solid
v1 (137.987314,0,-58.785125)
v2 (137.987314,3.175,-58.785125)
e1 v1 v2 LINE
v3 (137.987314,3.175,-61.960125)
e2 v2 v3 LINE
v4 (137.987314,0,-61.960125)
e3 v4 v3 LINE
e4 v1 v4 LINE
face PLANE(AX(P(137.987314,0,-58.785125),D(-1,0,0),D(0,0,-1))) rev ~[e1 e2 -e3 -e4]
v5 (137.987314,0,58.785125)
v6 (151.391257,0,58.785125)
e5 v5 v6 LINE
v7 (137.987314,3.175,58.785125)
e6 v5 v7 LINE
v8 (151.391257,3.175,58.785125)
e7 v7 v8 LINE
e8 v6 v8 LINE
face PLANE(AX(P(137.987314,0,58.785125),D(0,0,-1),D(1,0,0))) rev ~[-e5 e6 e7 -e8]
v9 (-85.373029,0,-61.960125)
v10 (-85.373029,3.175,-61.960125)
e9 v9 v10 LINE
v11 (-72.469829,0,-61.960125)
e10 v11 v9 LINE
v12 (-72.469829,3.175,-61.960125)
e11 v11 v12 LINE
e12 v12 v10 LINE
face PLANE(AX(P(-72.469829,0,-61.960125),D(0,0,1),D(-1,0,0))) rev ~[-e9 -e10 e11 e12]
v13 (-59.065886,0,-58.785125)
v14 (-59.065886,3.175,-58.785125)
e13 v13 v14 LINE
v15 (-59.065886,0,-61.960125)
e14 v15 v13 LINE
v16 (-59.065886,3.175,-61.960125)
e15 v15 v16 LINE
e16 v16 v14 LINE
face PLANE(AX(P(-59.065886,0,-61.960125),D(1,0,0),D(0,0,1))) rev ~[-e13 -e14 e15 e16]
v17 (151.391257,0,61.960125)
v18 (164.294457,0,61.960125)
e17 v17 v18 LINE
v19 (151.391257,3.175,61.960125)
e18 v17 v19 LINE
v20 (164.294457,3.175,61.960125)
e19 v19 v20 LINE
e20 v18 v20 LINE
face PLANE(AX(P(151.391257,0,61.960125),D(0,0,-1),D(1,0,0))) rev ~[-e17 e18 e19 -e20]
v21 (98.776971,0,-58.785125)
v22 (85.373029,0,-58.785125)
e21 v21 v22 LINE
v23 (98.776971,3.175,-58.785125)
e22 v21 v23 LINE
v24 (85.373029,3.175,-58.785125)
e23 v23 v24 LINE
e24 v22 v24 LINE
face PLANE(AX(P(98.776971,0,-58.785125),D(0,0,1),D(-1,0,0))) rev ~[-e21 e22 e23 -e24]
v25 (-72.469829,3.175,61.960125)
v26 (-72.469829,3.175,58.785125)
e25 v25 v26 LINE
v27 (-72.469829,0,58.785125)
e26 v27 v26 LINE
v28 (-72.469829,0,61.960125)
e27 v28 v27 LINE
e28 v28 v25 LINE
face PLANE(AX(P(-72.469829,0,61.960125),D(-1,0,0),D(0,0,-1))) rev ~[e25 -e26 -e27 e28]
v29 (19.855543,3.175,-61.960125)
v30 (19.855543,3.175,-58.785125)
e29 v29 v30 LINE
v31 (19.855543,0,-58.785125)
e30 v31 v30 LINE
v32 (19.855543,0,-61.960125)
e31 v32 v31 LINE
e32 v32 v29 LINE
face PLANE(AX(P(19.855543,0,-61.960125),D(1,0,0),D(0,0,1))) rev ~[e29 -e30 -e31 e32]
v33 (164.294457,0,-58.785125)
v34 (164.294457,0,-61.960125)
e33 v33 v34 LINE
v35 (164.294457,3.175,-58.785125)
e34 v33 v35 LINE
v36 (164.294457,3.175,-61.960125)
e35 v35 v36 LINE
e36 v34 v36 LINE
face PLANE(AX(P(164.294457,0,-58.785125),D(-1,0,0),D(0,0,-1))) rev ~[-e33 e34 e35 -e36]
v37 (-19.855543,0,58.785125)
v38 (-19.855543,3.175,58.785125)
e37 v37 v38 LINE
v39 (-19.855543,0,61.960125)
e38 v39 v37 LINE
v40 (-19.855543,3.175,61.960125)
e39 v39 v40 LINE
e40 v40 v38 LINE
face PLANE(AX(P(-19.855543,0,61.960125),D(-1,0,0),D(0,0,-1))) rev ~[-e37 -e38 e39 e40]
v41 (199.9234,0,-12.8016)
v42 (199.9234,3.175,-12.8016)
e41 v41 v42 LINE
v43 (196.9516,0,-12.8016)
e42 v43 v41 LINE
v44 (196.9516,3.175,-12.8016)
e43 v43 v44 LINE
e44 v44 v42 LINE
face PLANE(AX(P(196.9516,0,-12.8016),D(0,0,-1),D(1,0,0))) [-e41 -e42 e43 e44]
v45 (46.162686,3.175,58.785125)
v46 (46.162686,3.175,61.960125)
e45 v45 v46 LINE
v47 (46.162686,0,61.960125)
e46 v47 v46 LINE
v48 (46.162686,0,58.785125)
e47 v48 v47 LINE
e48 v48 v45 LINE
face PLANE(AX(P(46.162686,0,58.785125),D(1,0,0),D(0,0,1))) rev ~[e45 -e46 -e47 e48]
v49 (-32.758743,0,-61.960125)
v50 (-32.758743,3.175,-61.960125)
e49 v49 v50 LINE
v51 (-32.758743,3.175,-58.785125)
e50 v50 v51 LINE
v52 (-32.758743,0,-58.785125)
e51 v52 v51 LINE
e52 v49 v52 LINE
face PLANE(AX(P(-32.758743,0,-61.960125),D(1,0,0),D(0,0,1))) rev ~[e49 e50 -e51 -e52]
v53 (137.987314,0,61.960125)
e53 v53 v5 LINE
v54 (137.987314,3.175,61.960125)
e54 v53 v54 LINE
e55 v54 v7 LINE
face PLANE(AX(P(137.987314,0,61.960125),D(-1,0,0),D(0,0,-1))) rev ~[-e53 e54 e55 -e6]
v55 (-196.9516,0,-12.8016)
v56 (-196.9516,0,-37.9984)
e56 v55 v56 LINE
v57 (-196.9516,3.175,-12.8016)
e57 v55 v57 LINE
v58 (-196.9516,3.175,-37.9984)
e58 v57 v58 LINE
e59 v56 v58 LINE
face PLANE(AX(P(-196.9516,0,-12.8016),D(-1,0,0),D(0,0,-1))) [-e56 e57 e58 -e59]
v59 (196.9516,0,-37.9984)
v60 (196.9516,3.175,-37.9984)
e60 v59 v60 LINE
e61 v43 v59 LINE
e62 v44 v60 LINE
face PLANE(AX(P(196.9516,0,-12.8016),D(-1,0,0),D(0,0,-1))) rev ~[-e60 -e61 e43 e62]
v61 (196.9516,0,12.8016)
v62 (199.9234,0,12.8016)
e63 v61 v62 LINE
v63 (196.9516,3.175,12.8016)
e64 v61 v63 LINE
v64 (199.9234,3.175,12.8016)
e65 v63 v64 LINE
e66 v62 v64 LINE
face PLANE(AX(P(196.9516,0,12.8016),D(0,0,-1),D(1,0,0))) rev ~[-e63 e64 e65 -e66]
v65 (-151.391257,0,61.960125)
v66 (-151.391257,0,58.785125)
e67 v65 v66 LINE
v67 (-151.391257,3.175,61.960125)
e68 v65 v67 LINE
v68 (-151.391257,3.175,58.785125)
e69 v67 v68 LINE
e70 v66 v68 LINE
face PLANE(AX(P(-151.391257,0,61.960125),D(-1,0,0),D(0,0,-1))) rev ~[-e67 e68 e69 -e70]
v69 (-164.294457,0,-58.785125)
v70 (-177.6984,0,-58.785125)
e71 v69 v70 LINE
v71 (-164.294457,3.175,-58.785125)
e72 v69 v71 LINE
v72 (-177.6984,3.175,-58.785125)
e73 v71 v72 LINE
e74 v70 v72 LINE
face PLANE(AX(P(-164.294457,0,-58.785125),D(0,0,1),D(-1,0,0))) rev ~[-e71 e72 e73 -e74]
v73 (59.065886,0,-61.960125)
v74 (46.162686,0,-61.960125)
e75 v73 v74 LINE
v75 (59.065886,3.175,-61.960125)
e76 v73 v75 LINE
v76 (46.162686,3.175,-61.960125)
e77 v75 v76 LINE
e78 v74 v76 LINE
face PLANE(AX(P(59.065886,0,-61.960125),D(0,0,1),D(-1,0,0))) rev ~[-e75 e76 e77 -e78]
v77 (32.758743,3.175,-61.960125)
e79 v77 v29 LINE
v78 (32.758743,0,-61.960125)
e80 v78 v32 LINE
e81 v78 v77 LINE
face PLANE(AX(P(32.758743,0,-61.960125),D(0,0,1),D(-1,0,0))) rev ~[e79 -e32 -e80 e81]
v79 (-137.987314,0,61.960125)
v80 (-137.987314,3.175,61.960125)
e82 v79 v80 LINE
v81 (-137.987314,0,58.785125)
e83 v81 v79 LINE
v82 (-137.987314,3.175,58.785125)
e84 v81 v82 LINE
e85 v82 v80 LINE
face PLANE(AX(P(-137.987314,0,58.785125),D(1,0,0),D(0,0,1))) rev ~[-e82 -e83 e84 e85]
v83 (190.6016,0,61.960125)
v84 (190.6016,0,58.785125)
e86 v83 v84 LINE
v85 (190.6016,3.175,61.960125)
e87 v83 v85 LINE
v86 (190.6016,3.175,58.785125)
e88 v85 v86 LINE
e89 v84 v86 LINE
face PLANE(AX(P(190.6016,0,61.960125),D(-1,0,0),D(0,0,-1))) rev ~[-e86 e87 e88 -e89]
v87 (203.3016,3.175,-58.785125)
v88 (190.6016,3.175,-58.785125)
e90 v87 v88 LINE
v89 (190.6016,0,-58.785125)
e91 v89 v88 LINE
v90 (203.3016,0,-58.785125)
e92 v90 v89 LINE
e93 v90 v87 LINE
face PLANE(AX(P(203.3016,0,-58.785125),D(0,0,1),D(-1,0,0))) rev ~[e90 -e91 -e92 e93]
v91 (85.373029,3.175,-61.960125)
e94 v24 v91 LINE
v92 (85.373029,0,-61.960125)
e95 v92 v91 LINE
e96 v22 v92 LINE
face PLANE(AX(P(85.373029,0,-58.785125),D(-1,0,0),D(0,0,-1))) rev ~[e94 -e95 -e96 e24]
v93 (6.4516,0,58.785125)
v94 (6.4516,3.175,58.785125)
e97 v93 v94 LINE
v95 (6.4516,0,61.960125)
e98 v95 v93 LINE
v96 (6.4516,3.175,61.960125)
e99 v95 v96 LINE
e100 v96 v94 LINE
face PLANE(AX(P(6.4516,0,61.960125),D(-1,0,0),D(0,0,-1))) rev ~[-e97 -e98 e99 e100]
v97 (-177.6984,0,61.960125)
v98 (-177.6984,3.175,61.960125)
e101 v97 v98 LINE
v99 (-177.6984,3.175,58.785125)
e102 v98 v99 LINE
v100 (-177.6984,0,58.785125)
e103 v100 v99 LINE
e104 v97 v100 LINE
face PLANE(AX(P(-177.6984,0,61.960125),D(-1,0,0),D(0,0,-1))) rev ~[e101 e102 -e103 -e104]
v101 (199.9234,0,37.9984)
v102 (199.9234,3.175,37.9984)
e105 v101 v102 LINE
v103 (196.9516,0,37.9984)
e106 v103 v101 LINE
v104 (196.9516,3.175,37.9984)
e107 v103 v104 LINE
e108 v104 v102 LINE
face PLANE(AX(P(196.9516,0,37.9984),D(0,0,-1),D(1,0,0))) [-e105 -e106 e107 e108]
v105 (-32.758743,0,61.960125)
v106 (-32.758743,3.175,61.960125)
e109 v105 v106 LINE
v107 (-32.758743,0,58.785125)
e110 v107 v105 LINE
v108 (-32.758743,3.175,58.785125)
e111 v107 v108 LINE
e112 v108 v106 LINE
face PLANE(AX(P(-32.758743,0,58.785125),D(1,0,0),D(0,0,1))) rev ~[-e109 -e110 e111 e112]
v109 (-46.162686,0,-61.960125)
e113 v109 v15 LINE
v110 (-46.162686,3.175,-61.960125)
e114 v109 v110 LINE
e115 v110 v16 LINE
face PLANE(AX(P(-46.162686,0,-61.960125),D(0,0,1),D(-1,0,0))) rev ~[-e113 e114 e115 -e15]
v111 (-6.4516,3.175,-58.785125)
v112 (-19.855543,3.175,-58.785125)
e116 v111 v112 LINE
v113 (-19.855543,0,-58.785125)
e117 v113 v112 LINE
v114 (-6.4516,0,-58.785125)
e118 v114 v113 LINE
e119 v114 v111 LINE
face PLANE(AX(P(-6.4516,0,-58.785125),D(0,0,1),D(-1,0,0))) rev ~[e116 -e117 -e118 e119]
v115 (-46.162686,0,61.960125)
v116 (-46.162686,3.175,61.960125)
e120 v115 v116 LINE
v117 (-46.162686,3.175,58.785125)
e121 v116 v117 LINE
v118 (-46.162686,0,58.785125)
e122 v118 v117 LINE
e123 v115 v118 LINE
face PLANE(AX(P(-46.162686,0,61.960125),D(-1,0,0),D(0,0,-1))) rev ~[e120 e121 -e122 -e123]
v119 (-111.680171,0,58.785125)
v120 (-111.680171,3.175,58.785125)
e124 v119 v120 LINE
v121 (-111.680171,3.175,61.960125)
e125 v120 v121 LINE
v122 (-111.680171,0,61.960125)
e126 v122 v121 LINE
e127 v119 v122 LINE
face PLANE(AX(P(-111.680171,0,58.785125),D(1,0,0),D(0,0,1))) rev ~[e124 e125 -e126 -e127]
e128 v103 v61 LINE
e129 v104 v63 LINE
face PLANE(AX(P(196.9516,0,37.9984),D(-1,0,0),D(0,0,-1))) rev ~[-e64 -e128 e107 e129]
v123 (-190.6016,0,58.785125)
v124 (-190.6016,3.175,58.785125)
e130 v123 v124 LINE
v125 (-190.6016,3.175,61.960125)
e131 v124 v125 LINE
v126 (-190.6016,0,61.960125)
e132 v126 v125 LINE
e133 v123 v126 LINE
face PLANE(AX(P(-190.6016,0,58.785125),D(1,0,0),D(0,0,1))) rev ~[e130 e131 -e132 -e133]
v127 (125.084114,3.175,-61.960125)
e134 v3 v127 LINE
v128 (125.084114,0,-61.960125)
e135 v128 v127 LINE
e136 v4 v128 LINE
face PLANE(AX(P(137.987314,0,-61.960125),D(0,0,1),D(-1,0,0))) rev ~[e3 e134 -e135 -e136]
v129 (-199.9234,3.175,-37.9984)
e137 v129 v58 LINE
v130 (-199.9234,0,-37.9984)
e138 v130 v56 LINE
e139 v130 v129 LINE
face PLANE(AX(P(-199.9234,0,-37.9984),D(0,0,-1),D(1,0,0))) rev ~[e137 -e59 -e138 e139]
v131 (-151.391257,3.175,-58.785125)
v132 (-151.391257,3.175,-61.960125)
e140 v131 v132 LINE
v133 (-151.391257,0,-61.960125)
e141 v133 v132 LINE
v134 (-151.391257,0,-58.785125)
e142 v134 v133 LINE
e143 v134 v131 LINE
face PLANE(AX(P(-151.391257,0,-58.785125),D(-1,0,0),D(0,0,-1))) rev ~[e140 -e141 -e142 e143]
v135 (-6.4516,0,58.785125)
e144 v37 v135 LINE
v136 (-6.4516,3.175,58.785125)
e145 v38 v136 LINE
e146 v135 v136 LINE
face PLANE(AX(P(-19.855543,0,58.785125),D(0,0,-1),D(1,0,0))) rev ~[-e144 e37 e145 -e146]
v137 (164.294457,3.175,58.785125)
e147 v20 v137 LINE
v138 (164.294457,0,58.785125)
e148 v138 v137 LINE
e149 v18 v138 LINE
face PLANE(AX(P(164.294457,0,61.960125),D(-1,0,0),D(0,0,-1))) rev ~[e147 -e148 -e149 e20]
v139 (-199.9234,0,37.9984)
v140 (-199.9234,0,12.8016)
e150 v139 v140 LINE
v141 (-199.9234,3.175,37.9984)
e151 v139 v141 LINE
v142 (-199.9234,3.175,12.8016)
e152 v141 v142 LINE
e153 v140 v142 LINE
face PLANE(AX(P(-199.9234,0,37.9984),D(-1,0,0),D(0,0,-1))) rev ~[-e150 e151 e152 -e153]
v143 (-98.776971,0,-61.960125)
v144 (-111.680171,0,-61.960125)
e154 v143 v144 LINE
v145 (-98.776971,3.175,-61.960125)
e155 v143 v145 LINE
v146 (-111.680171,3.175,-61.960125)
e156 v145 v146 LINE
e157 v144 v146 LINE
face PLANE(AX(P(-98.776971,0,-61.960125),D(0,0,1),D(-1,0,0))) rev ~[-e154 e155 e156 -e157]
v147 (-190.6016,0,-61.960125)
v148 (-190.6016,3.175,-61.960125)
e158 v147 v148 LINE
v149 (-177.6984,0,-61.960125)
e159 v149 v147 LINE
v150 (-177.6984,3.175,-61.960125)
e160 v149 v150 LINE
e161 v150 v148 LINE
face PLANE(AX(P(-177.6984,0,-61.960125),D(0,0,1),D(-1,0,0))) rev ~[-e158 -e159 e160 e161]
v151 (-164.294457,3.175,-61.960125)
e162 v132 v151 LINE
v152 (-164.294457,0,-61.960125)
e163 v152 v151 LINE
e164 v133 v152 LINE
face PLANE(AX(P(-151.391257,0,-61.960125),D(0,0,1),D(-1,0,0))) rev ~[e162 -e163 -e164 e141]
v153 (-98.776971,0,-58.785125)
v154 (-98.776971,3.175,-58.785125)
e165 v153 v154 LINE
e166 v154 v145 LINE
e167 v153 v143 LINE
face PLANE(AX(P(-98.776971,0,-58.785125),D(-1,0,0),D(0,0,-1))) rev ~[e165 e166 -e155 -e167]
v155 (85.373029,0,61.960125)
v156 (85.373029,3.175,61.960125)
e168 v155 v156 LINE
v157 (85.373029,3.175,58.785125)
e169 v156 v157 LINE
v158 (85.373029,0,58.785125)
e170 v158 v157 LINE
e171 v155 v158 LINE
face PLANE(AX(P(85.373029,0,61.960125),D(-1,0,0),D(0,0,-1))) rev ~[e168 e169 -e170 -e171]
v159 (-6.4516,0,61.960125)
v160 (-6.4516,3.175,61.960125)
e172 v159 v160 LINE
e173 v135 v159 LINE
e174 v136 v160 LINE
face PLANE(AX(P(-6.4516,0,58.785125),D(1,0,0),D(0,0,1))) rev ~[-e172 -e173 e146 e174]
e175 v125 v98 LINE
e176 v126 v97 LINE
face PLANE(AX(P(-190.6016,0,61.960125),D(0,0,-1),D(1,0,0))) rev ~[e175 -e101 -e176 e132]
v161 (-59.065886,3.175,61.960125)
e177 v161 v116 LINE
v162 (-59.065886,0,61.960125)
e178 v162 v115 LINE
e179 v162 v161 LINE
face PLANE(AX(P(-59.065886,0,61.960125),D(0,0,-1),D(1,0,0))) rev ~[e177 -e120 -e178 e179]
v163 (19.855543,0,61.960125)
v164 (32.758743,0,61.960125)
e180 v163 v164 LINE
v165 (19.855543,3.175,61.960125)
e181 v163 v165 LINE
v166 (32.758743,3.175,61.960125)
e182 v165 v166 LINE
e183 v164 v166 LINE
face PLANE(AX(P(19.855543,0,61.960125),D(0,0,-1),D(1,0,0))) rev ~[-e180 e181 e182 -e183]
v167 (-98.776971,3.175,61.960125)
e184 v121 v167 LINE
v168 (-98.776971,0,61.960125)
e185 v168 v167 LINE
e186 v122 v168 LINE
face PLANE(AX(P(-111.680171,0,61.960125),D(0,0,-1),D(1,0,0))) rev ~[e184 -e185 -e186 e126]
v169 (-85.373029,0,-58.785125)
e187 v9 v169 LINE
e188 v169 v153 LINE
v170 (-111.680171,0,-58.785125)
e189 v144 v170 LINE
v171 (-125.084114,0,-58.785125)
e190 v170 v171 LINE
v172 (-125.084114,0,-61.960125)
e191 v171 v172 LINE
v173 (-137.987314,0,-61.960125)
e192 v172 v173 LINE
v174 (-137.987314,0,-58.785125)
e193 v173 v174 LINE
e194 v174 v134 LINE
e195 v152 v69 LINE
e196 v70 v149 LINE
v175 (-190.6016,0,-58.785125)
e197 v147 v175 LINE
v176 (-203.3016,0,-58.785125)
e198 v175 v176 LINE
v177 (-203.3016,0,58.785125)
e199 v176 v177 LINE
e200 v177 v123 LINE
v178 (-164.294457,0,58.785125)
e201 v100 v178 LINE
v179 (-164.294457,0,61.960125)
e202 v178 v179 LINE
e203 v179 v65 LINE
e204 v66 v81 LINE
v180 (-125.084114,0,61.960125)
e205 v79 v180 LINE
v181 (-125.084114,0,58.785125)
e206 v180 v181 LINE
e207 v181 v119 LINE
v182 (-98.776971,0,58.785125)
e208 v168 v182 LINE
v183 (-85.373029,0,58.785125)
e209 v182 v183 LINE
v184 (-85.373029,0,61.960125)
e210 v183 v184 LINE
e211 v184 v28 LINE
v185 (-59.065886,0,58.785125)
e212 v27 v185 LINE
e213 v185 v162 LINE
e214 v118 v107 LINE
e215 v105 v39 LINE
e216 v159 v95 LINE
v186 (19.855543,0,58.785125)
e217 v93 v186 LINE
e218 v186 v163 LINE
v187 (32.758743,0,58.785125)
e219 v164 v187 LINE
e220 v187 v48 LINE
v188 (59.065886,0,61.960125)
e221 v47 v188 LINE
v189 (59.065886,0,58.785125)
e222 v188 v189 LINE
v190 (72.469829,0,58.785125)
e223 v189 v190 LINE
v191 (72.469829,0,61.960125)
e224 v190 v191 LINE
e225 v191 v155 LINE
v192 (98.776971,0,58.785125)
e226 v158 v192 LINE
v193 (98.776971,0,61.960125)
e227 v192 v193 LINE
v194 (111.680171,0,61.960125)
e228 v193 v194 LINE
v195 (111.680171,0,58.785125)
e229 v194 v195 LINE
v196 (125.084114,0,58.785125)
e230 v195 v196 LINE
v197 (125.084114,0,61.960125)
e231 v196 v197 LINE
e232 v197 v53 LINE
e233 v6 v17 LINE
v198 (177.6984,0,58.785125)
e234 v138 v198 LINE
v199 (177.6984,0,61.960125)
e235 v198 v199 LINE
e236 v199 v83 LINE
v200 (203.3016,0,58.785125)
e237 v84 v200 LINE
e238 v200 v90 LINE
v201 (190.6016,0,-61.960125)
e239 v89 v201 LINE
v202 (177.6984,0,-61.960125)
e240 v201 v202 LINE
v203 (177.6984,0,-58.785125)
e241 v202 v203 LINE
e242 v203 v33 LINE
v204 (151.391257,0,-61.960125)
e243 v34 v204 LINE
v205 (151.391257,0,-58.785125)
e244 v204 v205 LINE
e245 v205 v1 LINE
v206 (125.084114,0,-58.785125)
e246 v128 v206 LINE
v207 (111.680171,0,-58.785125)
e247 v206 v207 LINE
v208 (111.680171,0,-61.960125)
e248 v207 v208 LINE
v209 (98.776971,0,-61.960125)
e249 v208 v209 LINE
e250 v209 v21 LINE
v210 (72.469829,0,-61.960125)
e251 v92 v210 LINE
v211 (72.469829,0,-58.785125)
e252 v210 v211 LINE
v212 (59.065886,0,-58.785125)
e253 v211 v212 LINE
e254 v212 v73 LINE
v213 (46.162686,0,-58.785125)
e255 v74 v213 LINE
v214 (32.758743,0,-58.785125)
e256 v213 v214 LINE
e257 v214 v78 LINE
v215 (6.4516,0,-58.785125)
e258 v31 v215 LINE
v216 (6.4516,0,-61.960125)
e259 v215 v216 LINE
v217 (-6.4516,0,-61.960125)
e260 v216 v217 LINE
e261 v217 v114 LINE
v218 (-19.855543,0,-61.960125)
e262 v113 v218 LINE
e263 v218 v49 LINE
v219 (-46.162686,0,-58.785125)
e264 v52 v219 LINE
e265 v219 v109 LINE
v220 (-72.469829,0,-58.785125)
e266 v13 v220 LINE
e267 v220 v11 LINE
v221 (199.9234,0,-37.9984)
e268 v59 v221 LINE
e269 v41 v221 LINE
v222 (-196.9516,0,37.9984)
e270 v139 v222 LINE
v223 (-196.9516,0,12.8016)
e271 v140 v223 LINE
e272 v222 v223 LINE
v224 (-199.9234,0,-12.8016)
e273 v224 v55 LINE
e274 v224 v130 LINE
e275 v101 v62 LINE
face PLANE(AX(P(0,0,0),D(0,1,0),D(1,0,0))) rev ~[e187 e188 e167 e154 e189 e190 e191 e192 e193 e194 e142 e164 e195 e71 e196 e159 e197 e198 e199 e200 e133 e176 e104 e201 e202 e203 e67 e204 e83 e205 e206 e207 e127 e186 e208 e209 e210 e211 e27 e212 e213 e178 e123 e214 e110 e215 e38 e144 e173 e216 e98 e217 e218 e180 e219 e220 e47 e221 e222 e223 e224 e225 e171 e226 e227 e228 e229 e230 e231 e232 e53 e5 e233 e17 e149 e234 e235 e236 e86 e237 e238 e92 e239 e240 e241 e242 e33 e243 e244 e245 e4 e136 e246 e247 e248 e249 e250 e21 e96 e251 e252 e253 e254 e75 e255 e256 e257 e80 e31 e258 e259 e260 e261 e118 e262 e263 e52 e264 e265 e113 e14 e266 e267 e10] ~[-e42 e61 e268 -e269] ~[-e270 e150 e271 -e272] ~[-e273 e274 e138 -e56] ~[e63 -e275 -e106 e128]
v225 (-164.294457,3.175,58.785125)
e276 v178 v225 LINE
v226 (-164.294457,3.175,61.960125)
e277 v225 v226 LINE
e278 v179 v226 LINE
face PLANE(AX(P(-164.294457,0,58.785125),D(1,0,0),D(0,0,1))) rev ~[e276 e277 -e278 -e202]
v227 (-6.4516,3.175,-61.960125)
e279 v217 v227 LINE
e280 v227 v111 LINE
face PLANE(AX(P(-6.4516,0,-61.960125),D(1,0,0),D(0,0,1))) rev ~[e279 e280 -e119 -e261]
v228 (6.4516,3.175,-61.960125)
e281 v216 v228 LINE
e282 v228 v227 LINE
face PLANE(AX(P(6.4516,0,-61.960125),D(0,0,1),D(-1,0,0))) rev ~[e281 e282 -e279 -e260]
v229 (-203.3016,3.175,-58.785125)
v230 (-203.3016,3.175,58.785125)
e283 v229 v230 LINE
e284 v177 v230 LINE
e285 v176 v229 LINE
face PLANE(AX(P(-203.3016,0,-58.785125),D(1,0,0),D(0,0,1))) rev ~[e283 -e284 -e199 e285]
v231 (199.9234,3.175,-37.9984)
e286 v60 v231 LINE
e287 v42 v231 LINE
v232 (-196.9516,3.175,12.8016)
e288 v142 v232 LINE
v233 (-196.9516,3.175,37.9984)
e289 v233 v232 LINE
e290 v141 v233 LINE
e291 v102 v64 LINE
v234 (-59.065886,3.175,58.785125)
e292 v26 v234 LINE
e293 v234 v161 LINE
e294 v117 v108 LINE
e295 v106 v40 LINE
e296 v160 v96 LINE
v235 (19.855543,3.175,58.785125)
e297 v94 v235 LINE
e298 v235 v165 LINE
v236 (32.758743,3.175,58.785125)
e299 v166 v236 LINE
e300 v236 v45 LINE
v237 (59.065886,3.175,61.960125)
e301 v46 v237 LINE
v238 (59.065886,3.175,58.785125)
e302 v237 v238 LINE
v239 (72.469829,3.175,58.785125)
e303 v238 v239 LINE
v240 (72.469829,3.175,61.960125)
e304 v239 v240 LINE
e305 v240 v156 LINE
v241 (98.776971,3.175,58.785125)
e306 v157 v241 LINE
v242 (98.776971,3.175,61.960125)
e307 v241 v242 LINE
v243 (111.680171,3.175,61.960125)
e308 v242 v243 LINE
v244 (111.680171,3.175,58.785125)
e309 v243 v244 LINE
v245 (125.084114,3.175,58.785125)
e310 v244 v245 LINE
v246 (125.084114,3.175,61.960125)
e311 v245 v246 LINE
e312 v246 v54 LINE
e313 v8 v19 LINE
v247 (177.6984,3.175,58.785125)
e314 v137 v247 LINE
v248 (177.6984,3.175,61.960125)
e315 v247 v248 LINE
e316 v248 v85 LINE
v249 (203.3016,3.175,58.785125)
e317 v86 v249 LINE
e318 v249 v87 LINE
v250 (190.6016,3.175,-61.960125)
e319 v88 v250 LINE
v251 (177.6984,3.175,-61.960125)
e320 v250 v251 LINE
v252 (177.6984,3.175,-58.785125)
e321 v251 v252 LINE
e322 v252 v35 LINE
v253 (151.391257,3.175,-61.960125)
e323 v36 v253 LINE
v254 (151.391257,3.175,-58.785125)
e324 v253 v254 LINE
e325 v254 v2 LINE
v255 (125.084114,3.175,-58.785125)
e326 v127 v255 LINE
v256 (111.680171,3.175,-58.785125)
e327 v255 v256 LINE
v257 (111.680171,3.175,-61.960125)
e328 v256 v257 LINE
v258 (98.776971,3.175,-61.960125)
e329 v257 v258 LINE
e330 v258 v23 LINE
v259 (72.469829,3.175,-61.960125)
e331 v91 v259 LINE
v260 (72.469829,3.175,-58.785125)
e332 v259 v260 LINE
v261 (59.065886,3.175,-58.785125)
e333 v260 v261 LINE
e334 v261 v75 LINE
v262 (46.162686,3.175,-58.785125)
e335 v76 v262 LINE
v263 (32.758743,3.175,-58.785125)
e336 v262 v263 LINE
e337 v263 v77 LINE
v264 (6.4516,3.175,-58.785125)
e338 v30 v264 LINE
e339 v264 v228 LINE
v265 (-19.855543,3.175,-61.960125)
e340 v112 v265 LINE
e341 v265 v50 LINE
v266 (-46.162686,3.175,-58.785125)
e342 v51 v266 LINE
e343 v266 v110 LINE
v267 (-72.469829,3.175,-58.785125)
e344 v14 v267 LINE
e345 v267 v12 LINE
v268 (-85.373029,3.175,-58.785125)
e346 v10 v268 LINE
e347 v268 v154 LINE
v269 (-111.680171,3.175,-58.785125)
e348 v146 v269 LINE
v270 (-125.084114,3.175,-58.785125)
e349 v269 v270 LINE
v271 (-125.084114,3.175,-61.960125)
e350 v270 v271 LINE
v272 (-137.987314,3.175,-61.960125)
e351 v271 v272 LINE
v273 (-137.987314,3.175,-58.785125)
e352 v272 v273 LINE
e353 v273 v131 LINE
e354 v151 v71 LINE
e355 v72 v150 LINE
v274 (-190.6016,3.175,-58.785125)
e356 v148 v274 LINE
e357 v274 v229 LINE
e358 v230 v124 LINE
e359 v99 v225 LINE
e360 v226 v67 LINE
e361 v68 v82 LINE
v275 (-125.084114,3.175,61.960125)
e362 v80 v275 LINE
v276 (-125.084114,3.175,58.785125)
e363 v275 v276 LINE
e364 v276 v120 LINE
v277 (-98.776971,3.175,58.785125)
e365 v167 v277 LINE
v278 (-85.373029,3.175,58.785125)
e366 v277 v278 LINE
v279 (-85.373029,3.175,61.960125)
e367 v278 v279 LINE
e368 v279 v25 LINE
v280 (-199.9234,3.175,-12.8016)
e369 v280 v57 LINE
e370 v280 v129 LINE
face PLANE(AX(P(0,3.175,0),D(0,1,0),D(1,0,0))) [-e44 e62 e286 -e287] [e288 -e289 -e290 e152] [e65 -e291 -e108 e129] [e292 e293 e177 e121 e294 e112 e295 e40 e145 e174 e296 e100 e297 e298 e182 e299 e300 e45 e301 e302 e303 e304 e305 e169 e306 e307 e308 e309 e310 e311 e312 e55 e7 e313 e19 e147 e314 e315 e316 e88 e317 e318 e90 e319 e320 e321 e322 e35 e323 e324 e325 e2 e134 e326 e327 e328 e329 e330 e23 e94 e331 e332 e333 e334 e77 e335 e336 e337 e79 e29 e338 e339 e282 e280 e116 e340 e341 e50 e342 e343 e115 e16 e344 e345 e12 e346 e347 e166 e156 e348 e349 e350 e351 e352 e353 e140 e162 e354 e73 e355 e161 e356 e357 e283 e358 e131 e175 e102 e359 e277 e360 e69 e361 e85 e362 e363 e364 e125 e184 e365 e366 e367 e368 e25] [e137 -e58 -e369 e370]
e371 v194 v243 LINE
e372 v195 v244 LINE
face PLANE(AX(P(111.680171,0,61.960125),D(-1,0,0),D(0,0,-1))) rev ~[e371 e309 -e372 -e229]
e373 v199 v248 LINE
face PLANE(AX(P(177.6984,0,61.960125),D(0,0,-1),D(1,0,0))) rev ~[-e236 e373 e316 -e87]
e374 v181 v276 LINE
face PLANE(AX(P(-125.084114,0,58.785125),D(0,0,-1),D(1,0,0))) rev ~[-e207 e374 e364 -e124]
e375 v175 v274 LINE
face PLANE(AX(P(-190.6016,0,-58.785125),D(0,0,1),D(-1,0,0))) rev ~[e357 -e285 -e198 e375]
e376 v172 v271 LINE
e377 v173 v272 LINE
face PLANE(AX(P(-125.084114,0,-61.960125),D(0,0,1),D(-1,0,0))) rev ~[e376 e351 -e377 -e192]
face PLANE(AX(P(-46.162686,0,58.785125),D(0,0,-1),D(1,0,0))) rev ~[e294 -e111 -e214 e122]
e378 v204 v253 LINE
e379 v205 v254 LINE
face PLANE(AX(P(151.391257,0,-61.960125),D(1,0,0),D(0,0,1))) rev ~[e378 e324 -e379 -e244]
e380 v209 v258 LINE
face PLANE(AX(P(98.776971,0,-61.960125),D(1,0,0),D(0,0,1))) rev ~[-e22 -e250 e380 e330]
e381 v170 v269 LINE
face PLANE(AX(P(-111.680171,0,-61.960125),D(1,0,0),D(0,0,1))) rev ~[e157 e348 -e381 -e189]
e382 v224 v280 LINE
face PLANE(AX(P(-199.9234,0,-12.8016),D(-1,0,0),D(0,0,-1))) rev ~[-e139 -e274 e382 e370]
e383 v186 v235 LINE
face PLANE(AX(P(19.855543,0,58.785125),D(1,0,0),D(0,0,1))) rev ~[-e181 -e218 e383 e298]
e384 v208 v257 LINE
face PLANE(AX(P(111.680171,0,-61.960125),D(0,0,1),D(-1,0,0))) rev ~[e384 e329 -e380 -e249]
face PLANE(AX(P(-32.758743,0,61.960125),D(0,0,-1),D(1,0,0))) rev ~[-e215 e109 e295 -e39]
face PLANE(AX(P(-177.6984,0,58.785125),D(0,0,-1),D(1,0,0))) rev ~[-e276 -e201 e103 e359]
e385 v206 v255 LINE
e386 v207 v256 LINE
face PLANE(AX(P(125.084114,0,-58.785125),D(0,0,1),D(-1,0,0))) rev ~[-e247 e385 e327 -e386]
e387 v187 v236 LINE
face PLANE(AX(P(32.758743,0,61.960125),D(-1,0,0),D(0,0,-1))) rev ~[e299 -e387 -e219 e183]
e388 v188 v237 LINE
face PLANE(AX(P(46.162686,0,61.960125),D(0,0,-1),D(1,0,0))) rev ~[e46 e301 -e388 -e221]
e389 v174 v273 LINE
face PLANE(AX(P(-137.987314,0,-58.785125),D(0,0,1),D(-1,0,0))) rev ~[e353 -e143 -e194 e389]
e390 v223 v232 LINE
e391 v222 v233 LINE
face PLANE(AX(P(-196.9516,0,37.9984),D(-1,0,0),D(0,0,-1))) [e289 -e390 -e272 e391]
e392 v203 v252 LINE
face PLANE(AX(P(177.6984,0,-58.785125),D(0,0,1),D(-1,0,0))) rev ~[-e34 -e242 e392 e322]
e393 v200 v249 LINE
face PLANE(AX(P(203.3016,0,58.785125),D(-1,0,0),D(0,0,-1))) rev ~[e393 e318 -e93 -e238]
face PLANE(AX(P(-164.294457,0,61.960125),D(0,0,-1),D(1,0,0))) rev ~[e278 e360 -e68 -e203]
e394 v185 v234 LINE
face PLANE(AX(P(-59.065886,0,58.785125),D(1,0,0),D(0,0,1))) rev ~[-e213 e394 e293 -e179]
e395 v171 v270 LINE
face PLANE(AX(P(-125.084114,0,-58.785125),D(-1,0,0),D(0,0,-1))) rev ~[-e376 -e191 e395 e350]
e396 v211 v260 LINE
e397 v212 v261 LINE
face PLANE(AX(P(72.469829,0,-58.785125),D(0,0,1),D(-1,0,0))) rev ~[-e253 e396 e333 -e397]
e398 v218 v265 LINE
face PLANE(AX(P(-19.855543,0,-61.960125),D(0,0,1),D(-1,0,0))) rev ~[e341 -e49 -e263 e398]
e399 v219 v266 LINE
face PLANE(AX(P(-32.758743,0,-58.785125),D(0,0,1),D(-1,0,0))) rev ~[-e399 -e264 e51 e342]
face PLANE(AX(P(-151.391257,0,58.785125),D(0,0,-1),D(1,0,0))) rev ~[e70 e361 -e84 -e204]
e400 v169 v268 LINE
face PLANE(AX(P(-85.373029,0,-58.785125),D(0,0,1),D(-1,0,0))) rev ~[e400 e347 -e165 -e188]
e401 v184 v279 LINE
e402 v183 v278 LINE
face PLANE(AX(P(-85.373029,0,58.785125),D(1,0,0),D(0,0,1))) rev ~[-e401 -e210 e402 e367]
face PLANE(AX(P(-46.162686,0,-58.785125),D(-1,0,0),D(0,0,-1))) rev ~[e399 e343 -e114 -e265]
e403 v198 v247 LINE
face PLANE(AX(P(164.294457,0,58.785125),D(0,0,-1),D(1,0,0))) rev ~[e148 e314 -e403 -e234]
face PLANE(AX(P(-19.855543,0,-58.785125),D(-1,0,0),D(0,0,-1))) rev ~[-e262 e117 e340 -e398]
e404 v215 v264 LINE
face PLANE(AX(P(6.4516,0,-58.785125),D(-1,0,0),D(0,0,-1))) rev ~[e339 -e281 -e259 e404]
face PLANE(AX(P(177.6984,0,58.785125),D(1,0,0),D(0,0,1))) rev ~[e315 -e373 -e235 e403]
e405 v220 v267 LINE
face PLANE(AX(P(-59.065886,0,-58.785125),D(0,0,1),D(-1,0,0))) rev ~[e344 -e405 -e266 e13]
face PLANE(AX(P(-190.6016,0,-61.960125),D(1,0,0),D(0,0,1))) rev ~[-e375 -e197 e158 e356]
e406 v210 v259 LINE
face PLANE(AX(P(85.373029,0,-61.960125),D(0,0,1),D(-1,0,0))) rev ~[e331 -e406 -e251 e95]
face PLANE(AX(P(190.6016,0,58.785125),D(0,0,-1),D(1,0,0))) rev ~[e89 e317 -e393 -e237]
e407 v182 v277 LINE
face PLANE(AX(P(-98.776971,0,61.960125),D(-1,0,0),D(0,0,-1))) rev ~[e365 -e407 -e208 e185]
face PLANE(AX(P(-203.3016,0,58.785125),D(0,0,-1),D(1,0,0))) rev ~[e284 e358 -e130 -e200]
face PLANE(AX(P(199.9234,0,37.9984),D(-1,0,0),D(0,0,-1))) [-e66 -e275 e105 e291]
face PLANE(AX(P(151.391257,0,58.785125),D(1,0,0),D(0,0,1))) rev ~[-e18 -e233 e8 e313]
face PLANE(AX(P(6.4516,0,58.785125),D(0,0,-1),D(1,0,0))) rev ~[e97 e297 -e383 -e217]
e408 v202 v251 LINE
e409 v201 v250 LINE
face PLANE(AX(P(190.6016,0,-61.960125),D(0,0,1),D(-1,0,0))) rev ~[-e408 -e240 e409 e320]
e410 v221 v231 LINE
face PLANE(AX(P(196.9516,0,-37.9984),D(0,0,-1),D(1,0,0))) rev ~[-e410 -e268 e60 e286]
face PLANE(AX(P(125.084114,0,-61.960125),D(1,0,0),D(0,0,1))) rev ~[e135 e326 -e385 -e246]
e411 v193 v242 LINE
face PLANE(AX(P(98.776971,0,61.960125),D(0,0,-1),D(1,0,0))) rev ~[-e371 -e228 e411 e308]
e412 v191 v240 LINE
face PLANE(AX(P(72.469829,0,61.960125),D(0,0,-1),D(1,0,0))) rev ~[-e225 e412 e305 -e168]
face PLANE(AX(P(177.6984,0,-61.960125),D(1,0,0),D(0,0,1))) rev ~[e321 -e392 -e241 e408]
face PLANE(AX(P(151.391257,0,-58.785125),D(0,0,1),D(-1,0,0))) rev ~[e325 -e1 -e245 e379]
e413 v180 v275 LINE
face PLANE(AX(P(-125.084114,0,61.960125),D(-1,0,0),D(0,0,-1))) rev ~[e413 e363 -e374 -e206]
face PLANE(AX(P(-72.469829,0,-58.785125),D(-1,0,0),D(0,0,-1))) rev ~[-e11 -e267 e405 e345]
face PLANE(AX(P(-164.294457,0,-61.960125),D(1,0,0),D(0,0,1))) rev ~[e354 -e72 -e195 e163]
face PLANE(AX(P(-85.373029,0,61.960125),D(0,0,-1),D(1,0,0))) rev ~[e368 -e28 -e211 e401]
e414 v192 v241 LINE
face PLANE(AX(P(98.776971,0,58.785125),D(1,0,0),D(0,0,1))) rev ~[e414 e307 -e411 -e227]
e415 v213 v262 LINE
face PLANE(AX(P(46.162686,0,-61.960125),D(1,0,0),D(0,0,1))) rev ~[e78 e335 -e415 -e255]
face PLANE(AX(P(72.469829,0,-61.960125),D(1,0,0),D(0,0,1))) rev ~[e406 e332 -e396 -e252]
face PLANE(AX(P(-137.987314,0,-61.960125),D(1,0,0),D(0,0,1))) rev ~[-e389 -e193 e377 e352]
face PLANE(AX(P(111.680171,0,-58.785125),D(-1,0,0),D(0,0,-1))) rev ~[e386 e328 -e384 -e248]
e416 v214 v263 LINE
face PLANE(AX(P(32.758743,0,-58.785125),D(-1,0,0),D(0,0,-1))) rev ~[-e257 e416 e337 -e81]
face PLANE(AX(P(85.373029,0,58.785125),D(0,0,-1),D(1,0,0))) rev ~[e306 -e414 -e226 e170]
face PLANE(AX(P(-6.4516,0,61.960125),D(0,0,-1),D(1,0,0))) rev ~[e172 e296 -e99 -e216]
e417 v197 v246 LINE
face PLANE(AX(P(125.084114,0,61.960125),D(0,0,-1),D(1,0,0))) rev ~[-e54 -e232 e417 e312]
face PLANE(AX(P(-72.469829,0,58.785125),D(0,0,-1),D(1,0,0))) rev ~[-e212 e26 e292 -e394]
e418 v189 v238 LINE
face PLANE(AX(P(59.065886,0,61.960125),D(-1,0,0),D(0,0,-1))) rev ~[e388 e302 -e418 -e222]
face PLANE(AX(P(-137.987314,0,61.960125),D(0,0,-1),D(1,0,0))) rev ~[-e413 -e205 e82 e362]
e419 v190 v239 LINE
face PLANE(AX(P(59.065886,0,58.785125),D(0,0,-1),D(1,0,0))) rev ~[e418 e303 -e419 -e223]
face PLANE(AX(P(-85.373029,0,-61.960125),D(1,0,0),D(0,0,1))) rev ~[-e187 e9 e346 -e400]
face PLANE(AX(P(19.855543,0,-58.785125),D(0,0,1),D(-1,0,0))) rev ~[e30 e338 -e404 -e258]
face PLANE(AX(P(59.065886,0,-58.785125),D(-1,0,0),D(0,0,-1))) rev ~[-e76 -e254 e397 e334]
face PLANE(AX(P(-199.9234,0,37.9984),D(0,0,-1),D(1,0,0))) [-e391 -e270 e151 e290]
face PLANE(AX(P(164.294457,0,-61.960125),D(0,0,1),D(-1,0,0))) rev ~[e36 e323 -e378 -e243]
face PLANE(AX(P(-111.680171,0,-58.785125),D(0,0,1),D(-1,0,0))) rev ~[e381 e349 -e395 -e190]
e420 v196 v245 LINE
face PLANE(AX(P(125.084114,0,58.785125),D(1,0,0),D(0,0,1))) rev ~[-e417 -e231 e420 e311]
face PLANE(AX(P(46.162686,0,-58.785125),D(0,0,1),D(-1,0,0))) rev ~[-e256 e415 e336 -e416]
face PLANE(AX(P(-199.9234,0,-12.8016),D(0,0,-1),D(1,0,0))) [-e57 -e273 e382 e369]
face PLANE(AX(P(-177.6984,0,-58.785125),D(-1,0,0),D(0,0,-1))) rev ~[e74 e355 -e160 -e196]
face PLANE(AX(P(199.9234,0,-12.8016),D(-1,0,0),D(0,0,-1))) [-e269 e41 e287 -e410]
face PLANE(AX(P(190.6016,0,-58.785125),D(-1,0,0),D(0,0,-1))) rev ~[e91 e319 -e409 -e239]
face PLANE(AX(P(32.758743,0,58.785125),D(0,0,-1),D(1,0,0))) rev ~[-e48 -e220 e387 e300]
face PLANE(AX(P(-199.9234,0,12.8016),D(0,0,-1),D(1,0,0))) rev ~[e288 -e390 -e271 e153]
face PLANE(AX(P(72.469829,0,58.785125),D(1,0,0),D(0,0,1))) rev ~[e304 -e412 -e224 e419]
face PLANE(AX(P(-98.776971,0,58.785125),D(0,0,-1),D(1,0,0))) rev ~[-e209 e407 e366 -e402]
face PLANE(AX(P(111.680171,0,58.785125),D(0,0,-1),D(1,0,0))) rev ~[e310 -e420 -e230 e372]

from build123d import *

# Parameters (mm, degrees)
SKETCH1_W           = 2.9718
SKETCH1_H           = 25.1968
BOSS_EXTRUDE1_DEPTH = 3.175


with BuildPart() as part:
    # Sketch1 → Boss-Extrude1 (new body)
    with BuildSketch(Plane(origin=(0, 0, 0), x_dir=(1, 0, 0), z_dir=(0, 1, 0))):
        Polygon((-137.987314286, 58.785125), (-151.391257143, 58.785125), (-151.391257143, 61.960125), (-164.294457143, 61.960125), (-164.294457143, 58.785125), (-177.6984, 58.785125), (-177.6984, 61.960125), (-190.6016, 61.960125), (-190.6016, 58.785125), (-203.3016, 58.785125), (-203.3016, -58.785125), (-190.6016, -58.785125), (-190.6016, -61.960125), (-177.6984, -61.960125), (-177.6984, -58.785125), (-164.294457143, -58.785125), (-164.294457143, -61.960125), (-151.391257143, -61.960125), (-151.391257143, -58.785125), (-137.987314286, -58.785125), (-137.987314286, -61.960125), (-125.084114286, -61.960125), (-125.084114286, -58.785125), (-111.680171429, -58.785125), (-111.680171429, -61.960125), (-98.776971429, -61.960125), (-98.776971429, -58.785125), (-85.373028571, -58.785125), (-85.373028571, -61.960125), (-72.469828571, -61.960125), (-72.469828571, -58.785125), (-59.065885714, -58.785125), (-59.065885714, -61.960125), (-46.162685714, -61.960125), (-46.162685714, -58.785125), (-32.758742857, -58.785125), (-32.758742857, -61.960125), (-19.855542857, -61.960125), (-19.855542857, -58.785125), (-6.4516, -58.785125), (-6.4516, -61.960125), (6.4516, -61.960125), (6.4516, -58.785125), (19.855542857, -58.785125), (19.855542857, -61.960125), (32.758742857, -61.960125), (32.758742857, -58.785125), (46.162685714, -58.785125), (46.162685714, -61.960125), (59.065885714, -61.960125), (59.065885714, -58.785125), (72.469828571, -58.785125), (72.469828571, -61.960125), (85.373028571, -61.960125), (85.373028571, -58.785125), (98.776971429, -58.785125), (98.776971429, -61.960125), (111.680171429, -61.960125), (111.680171429, -58.785125), (125.084114286, -58.785125), (125.084114286, -61.960125), (137.987314286, -61.960125), (137.987314286, -58.785125), (151.391257143, -58.785125), (151.391257143, -61.960125), (164.294457143, -61.960125), (164.294457143, -58.785125), (177.6984, -58.785125), (177.6984, -61.960125), (190.6016, -61.960125), (190.6016, -58.785125), (203.3016, -58.785125), (203.3016, 58.785125), (190.6016, 58.785125), (190.6016, 61.960125), (177.6984, 61.960125), (177.6984, 58.785125), (164.294457143, 58.785125), (164.294457143, 61.960125), (151.391257143, 61.960125), (151.391257143, 58.785125), (137.987314286, 58.785125), (137.987314286, 61.960125), (125.084114286, 61.960125), (125.084114286, 58.785125), (111.680171429, 58.785125), (111.680171429, 61.960125), (98.776971429, 61.960125), (98.776971429, 58.785125), (85.373028571, 58.785125), (85.373028571, 61.960125), (72.469828571, 61.960125), (72.469828571, 58.785125), (59.065885714, 58.785125), (59.065885714, 61.960125), (46.162685714, 61.960125), (46.162685714, 58.785125), (32.758742857, 58.785125), (32.758742857, 61.960125), (19.855542857, 61.960125), (19.855542857, 58.785125), (6.4516, 58.785125), (6.4516, 61.960125), (-6.4516, 61.960125), (-6.4516, 58.785125), (-19.855542857, 58.785125), (-19.855542857, 61.960125), (-32.758742857, 61.960125), (-32.758742857, 58.785125), (-46.162685714, 58.785125), (-46.162685714, 61.960125), (-59.065885714, 61.960125), (-59.065885714, 58.785125), (-72.469828571, 58.785125), (-72.469828571, 61.960125), (-85.373028571, 61.960125), (-85.373028571, 58.785125), (-98.776971429, 58.785125), (-98.776971429, 61.960125), (-111.680171429, 61.960125), (-111.680171429, 58.785125), (-125.084114286, 58.785125), (-125.084114286, 61.960125), (-137.987314286, 61.960125), align=None)
        with Locations((-198.4375, 25.4)):
            Rectangle(SKETCH1_W, SKETCH1_H, mode=Mode.SUBTRACT)
        with Locations((-198.4375, -25.4)):
            Rectangle(SKETCH1_W, SKETCH1_H, mode=Mode.SUBTRACT)
        with Locations((198.4375, 25.4)):
            Rectangle(SKETCH1_W, SKETCH1_H, mode=Mode.SUBTRACT)
        with Locations((198.4375, -25.4)):
            Rectangle(SKETCH1_W, SKETCH1_H, mode=Mode.SUBTRACT)
    extrude(amount=BOSS_EXTRUDE1_DEPTH)


solid = part.part
